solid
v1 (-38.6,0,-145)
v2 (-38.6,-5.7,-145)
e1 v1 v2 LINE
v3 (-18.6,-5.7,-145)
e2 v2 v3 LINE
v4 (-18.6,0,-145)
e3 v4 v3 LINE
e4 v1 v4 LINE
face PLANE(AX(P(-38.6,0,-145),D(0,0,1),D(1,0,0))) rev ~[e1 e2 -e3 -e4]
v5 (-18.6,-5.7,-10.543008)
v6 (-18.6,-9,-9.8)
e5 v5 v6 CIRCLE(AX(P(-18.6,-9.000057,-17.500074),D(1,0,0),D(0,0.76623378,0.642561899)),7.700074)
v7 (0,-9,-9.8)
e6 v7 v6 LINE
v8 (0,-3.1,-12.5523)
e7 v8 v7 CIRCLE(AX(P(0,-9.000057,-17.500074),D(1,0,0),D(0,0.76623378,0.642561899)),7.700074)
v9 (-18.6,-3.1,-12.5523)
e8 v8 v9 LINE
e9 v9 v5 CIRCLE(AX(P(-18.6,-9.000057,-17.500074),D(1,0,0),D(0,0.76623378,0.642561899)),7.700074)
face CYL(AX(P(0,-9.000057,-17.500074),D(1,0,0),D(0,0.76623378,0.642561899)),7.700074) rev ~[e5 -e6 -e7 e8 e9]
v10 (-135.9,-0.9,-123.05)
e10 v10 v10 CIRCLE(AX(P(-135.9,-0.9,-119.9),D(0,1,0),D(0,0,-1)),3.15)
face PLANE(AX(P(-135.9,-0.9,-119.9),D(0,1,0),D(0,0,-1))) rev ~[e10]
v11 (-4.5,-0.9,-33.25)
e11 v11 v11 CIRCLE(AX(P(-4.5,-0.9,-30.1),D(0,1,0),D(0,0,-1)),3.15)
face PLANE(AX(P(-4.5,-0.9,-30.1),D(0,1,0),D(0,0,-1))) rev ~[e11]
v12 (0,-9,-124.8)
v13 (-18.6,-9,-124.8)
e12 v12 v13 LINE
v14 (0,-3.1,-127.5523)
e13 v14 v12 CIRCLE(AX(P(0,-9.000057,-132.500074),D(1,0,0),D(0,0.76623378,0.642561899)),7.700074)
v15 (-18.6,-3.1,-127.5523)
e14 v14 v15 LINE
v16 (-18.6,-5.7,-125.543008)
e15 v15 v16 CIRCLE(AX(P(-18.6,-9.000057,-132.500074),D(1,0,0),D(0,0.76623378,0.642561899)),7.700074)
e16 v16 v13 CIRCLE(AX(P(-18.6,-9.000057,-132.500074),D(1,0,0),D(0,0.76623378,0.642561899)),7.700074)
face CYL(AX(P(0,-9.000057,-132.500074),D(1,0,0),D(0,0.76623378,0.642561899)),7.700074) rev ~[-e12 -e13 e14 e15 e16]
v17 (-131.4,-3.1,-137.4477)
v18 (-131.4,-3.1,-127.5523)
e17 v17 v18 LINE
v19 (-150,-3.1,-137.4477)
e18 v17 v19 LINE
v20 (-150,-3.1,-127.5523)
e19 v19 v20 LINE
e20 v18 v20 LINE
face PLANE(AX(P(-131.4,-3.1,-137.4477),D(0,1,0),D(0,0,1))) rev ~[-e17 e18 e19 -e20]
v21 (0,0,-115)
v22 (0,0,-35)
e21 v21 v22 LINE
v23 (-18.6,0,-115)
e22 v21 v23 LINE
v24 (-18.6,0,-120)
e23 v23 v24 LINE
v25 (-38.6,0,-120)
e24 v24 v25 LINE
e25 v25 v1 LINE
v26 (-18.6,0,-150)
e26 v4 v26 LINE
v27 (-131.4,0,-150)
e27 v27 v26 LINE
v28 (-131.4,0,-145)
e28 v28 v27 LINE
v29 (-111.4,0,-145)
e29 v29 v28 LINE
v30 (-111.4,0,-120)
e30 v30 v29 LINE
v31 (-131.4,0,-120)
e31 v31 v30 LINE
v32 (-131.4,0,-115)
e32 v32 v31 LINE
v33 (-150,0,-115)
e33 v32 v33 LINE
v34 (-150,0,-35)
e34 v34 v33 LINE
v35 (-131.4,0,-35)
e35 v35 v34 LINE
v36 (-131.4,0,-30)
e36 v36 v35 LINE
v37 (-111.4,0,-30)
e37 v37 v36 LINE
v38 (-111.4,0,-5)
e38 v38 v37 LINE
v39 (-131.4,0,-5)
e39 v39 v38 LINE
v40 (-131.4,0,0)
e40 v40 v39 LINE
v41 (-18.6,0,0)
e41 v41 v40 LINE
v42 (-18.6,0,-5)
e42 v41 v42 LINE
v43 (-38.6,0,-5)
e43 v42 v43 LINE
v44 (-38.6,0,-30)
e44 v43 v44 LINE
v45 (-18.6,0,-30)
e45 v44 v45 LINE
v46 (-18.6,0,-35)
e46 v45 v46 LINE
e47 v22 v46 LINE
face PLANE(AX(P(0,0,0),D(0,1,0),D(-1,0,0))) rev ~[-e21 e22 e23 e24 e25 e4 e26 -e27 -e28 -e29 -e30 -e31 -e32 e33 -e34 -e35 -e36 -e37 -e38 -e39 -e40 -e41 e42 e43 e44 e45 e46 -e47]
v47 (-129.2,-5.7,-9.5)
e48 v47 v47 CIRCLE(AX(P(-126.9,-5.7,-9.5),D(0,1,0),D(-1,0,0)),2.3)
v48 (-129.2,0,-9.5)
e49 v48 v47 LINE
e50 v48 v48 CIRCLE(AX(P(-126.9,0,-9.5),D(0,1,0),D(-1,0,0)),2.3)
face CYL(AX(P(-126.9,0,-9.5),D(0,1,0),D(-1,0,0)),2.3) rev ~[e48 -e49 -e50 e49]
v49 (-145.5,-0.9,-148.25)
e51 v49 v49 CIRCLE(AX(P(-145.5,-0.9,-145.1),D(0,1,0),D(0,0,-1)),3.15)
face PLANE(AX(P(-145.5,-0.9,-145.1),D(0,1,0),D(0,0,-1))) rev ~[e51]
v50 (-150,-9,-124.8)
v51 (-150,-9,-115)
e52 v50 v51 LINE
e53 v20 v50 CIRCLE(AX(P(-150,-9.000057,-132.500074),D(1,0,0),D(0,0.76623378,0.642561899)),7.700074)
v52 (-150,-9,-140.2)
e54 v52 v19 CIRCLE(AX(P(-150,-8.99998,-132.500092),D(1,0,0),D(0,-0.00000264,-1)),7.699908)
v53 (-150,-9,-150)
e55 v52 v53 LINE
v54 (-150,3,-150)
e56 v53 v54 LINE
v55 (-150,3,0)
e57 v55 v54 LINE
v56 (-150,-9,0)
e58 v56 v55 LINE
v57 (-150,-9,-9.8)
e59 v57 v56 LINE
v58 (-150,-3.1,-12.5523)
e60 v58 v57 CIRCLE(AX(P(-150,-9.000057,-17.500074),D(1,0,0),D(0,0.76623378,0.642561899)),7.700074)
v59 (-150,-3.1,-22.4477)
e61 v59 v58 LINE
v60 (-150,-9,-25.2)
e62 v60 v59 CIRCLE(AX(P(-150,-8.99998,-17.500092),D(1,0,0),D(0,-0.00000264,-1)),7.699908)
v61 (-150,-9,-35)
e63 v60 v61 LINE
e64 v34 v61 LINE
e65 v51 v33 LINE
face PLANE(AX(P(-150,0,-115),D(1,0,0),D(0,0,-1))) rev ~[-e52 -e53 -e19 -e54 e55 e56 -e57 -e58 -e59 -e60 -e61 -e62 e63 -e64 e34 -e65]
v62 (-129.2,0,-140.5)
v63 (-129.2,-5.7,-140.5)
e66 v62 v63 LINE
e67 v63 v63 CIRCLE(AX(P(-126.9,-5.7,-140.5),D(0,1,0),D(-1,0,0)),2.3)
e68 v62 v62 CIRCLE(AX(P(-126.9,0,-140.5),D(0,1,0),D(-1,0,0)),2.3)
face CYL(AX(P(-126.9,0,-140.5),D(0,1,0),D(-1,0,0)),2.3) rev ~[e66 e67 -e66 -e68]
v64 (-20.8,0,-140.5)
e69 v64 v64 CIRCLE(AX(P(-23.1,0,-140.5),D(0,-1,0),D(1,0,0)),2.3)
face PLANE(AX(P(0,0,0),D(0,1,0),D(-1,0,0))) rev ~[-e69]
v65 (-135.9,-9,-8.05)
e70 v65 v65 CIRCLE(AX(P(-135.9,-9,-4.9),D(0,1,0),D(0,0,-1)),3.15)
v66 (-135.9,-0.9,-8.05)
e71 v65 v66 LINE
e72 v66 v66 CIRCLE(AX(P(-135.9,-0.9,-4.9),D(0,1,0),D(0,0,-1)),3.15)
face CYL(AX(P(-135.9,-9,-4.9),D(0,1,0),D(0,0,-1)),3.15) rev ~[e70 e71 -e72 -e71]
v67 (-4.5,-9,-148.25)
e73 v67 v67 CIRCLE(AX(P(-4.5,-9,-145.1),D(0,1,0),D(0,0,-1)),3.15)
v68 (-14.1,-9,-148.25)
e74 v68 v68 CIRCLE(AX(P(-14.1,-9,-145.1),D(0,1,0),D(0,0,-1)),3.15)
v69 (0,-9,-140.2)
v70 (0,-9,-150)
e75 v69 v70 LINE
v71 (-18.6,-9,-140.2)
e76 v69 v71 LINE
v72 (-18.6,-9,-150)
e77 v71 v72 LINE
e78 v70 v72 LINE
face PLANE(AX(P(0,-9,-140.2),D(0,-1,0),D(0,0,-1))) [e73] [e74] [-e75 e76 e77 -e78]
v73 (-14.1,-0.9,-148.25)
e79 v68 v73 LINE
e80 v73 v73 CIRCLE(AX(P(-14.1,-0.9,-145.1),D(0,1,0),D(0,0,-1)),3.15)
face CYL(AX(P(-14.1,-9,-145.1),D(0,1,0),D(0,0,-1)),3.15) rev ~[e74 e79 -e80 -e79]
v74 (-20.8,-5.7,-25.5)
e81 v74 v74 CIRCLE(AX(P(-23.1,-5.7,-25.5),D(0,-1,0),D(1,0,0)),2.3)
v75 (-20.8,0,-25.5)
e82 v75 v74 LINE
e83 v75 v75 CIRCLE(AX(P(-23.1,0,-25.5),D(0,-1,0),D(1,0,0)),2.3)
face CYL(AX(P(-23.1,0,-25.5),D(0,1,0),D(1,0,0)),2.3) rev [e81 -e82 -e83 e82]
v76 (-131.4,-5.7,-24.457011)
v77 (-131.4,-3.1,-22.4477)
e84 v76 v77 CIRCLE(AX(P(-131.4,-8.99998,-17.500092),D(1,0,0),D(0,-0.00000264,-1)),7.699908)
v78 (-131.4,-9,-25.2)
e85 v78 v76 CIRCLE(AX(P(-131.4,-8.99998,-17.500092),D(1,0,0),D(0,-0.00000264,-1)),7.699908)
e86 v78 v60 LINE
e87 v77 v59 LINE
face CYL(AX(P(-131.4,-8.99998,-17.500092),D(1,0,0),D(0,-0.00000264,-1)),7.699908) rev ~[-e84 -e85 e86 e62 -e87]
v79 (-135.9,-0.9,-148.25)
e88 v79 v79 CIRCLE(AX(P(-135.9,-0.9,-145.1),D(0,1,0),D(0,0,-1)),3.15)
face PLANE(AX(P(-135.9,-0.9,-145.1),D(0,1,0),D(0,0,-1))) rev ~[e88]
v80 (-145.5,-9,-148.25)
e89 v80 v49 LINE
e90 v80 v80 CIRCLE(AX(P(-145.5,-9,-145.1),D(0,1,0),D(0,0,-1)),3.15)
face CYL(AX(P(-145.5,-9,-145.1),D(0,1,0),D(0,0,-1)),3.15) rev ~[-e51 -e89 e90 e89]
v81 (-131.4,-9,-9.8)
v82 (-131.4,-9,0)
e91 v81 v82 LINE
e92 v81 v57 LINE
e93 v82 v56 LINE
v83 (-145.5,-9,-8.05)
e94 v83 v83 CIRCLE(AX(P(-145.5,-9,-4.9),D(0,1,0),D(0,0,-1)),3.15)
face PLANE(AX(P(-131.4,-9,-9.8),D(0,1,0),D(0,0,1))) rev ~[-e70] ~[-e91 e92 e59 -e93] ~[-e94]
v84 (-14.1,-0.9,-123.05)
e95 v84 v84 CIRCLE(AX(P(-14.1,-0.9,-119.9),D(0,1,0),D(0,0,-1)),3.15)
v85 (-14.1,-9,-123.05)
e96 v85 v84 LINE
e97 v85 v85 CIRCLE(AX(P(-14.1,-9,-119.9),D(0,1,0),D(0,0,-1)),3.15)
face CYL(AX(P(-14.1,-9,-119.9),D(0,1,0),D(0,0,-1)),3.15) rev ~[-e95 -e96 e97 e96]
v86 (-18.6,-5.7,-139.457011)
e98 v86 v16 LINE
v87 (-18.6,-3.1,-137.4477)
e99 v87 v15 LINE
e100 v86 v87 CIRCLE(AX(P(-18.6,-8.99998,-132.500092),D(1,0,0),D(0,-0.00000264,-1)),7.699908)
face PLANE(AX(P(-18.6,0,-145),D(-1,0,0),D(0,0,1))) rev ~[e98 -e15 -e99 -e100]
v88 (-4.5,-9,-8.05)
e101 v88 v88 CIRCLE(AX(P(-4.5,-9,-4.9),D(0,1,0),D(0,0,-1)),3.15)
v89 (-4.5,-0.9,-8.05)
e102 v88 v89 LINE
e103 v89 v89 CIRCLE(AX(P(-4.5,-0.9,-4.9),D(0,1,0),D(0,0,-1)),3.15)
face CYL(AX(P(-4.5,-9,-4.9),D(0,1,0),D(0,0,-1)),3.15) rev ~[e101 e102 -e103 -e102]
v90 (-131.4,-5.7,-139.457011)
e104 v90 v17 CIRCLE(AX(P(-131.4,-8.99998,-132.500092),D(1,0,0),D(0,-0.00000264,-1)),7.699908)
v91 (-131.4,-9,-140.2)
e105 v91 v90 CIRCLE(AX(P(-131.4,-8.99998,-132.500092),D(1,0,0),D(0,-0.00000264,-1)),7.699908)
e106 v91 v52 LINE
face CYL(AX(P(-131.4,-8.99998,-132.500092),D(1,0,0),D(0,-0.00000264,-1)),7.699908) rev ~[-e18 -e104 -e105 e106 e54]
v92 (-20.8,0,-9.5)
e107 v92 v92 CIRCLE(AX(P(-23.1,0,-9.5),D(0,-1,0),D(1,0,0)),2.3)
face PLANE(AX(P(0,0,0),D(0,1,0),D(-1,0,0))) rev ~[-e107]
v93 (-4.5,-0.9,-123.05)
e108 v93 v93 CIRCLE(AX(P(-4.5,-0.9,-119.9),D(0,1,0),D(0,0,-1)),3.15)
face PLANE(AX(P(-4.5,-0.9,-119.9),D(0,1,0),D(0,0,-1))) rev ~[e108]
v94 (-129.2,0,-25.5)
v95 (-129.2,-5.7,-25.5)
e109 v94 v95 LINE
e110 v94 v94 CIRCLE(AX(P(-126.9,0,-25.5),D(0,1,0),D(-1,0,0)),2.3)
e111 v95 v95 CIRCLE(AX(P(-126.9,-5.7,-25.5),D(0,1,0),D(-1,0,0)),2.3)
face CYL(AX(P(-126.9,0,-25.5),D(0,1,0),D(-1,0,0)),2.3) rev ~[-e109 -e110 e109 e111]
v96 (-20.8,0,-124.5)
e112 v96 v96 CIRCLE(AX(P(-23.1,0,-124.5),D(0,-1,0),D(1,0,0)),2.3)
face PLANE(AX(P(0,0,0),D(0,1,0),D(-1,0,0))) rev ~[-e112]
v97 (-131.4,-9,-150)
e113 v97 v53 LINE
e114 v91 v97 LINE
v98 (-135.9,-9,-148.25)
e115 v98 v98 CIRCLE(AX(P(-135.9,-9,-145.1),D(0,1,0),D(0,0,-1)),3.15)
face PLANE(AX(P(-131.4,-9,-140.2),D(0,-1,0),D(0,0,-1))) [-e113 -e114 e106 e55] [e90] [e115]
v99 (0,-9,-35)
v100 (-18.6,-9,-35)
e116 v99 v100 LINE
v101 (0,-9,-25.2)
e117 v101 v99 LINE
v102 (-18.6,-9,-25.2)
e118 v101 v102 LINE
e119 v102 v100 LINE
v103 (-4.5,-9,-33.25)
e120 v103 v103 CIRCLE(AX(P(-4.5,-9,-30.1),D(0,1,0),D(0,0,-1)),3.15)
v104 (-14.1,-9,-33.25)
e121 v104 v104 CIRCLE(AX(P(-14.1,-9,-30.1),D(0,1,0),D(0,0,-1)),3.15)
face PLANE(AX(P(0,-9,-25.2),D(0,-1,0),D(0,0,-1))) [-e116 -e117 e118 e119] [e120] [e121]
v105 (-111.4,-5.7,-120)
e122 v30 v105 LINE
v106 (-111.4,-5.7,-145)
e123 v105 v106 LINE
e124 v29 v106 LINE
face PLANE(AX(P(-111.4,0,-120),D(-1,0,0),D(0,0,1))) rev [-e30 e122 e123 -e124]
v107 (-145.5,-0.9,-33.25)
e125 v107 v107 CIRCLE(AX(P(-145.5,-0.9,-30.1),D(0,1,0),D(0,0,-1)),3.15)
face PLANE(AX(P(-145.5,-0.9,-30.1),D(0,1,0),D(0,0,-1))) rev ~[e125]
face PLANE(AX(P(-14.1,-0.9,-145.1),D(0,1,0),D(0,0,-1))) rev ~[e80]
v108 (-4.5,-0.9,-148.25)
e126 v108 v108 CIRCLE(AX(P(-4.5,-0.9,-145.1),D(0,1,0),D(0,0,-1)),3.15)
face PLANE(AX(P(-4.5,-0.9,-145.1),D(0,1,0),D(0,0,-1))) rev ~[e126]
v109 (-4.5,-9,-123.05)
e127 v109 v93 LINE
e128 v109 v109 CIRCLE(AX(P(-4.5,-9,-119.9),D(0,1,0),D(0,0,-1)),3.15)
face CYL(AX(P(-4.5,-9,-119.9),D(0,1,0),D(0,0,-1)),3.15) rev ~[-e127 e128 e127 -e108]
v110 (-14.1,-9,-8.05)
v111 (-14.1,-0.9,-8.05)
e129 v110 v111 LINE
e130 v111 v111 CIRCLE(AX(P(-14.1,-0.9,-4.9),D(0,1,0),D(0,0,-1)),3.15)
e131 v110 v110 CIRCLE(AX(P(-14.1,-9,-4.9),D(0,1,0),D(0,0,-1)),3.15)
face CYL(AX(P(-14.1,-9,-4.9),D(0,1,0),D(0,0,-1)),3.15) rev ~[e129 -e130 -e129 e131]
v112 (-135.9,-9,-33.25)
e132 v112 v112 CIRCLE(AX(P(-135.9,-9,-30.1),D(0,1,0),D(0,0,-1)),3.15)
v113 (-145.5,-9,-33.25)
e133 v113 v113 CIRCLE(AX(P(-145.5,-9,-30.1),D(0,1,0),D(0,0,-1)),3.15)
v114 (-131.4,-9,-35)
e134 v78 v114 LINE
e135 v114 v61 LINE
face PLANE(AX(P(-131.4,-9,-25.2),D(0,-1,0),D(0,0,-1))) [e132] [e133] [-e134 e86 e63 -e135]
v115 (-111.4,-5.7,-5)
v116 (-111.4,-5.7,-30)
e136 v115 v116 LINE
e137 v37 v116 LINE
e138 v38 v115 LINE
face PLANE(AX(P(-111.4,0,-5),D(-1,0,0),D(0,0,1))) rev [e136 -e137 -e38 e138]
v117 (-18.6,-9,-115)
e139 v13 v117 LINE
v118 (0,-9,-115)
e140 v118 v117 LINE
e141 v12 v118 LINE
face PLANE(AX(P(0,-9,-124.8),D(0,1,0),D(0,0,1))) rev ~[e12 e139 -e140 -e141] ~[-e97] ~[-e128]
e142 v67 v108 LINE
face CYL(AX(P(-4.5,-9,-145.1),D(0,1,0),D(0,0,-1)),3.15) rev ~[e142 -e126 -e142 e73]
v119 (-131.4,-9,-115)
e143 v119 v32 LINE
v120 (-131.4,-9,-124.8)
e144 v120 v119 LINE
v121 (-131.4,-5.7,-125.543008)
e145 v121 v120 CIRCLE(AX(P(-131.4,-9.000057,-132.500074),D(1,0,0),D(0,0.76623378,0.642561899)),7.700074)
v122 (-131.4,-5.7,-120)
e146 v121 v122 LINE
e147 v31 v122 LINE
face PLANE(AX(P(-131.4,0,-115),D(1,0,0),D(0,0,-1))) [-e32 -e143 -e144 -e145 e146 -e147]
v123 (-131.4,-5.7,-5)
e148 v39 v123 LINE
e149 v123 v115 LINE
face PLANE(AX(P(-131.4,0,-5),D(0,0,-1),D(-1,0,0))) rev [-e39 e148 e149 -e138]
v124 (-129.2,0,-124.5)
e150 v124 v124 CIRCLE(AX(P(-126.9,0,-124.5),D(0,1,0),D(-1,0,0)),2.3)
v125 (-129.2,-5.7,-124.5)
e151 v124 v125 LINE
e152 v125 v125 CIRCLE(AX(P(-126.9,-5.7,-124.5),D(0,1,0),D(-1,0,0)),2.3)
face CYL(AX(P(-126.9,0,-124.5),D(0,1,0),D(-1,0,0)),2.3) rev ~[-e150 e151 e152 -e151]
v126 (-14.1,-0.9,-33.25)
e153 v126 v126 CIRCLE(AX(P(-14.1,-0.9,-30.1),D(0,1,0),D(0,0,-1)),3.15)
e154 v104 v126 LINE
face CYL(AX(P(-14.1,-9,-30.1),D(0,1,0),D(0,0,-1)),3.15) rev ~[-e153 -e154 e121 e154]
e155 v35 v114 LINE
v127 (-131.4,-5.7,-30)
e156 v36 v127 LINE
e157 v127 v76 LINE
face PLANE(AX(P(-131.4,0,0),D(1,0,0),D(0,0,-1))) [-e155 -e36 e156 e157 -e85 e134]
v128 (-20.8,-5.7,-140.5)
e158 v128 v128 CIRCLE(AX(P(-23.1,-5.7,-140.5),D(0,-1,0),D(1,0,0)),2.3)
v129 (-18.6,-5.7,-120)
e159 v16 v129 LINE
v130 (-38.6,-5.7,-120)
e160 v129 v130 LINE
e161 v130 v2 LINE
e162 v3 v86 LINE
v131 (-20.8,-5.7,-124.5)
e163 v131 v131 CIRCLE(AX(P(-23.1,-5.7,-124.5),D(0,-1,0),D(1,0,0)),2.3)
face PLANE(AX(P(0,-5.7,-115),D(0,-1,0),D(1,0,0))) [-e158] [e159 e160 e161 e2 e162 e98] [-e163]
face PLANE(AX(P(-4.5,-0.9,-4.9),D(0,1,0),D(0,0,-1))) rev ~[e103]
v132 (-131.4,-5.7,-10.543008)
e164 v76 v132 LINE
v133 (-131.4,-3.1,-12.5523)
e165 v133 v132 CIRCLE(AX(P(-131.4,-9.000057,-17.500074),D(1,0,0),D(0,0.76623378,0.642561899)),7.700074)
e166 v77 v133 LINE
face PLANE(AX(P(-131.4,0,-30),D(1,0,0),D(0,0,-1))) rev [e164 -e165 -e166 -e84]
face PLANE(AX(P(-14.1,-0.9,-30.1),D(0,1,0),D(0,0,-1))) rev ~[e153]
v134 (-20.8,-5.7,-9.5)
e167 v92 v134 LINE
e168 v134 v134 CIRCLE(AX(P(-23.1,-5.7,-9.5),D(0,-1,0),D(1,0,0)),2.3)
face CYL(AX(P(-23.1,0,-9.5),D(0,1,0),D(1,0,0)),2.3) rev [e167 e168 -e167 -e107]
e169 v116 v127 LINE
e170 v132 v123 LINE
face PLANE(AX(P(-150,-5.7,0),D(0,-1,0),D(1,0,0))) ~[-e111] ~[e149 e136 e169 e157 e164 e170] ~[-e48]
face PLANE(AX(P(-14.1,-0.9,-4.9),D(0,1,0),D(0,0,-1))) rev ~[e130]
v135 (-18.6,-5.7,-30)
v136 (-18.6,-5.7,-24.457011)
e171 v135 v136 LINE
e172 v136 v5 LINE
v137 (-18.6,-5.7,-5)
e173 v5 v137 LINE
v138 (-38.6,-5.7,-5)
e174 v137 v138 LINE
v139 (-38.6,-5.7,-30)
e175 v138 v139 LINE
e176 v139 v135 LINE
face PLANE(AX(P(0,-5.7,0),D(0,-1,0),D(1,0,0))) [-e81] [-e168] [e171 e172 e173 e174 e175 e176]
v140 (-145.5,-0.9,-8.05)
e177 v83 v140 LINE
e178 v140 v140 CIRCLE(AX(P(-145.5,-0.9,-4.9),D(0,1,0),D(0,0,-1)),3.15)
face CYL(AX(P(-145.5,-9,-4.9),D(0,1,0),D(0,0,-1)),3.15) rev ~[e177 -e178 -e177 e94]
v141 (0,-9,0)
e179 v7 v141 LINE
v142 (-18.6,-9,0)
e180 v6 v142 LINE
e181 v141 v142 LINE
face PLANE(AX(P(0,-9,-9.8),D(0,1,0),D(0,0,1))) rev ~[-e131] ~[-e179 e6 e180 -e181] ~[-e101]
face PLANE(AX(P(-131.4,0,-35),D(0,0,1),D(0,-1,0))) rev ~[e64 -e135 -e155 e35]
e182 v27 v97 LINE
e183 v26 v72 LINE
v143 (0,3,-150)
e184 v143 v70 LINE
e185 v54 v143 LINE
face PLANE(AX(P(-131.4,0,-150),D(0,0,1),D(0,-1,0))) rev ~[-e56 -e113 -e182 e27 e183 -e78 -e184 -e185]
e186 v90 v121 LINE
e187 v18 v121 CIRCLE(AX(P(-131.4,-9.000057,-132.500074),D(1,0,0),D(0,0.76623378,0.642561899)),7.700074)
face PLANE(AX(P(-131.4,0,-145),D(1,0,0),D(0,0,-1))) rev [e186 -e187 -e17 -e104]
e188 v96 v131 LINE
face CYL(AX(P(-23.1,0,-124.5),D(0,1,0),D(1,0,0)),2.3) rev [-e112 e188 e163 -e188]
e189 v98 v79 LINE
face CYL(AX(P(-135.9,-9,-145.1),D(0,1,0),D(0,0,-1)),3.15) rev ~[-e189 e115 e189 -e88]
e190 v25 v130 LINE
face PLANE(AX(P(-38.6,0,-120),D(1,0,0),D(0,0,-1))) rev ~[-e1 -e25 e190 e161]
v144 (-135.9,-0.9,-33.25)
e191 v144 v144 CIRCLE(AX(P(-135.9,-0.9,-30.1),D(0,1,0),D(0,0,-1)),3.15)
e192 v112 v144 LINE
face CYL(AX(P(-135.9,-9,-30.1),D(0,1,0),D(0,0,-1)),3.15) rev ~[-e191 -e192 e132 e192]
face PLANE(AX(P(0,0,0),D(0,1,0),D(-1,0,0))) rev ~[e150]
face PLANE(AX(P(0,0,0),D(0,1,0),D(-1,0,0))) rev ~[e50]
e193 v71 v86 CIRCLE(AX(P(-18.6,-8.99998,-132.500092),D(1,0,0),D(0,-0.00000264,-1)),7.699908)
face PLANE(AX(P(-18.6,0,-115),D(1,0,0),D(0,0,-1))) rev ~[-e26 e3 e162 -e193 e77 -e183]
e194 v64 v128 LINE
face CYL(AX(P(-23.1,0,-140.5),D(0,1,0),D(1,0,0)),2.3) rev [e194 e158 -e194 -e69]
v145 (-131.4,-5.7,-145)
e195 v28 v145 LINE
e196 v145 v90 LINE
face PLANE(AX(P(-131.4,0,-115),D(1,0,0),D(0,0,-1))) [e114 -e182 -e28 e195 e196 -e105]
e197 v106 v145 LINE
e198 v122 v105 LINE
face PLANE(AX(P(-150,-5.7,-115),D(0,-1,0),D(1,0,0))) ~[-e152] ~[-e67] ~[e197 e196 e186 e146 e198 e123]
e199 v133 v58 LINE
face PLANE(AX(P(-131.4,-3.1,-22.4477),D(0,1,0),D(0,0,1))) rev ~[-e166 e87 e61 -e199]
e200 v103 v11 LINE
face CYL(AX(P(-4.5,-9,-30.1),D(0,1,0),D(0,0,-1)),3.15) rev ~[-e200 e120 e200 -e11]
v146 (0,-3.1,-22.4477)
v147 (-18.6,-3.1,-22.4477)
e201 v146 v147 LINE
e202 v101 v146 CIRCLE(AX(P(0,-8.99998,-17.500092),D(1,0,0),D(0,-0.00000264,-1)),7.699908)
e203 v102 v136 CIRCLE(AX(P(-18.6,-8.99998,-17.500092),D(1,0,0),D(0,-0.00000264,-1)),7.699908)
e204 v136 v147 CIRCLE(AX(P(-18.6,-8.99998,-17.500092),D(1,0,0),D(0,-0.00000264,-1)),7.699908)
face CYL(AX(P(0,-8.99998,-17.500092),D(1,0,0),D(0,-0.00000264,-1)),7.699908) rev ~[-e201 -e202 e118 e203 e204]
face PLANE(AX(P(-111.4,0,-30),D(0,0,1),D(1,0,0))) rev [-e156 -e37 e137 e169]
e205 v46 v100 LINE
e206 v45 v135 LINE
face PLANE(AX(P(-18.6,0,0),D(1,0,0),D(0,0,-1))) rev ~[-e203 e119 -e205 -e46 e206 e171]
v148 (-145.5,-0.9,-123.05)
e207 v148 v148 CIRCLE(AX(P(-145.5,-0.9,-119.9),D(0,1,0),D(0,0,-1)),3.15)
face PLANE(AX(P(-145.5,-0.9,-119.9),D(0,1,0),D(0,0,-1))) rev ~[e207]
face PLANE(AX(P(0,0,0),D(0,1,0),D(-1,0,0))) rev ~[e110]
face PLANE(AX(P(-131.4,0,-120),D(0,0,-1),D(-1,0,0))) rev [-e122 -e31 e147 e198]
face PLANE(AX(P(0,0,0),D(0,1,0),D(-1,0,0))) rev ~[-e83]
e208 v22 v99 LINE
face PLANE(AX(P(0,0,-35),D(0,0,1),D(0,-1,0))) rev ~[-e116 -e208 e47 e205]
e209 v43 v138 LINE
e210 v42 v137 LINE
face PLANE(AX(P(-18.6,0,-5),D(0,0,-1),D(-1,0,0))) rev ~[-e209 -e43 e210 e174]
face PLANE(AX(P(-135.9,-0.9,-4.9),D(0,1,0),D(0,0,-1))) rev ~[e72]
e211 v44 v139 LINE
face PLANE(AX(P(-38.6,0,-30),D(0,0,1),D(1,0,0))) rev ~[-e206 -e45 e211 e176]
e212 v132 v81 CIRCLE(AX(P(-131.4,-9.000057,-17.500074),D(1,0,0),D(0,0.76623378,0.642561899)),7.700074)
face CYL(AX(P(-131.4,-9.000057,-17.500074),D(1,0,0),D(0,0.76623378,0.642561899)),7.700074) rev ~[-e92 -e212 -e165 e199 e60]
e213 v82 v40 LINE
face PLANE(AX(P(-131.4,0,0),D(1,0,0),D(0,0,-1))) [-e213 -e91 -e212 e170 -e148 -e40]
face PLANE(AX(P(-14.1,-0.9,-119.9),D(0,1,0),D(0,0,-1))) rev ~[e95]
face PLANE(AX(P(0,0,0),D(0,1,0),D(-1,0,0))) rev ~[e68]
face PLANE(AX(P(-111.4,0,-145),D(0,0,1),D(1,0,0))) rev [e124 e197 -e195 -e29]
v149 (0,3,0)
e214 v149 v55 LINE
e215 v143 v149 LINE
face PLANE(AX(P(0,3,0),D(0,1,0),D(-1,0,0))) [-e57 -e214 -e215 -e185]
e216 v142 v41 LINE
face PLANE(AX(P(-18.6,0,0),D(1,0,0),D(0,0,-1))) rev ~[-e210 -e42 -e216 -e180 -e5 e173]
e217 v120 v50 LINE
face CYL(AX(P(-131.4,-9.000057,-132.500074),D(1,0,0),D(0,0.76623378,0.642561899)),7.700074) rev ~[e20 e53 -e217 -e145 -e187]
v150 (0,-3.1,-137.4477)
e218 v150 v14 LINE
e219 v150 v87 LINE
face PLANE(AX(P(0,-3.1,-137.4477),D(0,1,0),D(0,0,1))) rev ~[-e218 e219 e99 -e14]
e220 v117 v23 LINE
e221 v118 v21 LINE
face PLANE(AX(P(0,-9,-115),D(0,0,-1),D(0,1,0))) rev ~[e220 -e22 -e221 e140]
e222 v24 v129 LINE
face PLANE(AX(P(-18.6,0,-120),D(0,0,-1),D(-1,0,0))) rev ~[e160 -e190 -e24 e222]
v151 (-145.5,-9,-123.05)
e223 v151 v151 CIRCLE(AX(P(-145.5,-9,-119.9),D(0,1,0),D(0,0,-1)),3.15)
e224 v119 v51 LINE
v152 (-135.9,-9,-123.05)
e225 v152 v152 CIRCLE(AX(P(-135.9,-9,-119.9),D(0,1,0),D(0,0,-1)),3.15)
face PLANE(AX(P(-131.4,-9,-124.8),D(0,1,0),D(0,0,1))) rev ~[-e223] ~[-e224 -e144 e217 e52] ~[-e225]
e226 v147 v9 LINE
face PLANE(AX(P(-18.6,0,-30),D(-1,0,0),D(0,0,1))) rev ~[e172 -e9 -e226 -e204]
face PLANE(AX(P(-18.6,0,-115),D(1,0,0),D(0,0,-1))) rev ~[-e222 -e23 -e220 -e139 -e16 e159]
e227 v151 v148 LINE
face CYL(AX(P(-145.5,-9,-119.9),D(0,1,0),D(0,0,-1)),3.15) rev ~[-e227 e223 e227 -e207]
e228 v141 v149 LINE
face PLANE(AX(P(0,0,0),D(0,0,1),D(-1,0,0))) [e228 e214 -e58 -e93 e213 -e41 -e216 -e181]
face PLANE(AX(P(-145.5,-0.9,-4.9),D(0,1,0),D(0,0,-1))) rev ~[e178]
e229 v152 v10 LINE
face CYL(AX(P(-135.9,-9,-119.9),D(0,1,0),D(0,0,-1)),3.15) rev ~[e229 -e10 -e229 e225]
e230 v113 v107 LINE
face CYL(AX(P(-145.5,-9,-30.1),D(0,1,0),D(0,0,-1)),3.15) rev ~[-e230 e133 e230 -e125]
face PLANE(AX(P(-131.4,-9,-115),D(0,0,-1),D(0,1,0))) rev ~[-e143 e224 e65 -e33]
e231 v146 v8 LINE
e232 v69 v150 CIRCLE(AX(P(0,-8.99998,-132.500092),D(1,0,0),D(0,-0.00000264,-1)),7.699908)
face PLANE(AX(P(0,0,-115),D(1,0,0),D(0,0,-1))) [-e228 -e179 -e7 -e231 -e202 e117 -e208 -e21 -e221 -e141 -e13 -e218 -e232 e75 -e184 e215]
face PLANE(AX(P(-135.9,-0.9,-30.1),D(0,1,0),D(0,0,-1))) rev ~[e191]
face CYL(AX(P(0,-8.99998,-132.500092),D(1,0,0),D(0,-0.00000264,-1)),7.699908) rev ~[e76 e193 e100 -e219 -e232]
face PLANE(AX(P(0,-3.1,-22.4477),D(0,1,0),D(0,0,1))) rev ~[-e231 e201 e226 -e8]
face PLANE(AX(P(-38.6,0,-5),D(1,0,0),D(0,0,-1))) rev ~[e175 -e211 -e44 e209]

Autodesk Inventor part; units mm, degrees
ref_plane "YZ Plane" through (0, 0, 0) normal (1, 0, 0) x (0, 1, 0)
ref_plane "XZ Plane" through (0, 0, 0) normal (0, 1, 0) x (-1, 0, 0)
ref_plane "XY Plane" through (0, 0, 0) normal (0, 0, 1) x (1, 0, 0)
sketch "Esquisse1" plane through (0, 0, 0) normal (0, 1, 0) x (-1, 0, 0)
  line L0 (0, 0) -> (150, 0)
  line L1 (150, 0) -> (150, -150)
  line L2 (150, -150) -> (0, -150)
  line L3 (0, -150) -> (0, 0)
  dimension "d0" = 150
  dimension "d1" = 150
extrude "Extrusion1" add sketch "Esquisse1" along normal blind 3
sketch "Esquisse2" plane through (0, 0, 0) normal (1, 0, 0) x (0, 0, -1)
  line L0 (0, 0) -> (35, 0)
  line L1 (35, 0) -> (35, -9)
  line L2 (0, -9) -> (0, 0)
  line L3 (22.4477, -3.1) -> (12.5523, -3.1)
  arc A0 (25.2, -9) -> (22.4477, -3.1) centre (17.5, -9) ccw
  arc A1 (12.5523, -3.1) -> (9.8, -9) centre (17.5, -9) ccw
  line L4 (25.2, -9) -> (35, -9)
  line L5 (9.8, -9) -> (0, -9)
  point P0 (17.4477, 0)
  point P1 (7.5523, 0)
  point P2 (5.9342, -9)
  point P3 (22.4477, 0)
  point P4 (12.5523, 0)
  dimension "d4" = 35
  dimension "d5" = 9
extrude "Extrusion2" add sketch "Esquisse2" against normal blind 18.6
ref_plane "Plan de construction1" through (-150, 3, -4.9) normal (0, 0, 1) x (1, 0, 0)
ref_plane "Plan de construction2" through (0, -9, -30.1) normal (0, 0, -1) x (-1, 0, 0)
ref_plane "Plan de construction3" through (-4.5, 3, 0) normal (1, 0, 0) x (0, 0, -1)
ref_plane "Plan de construction4" through (-14.1, 3, 0) normal (1, 0, 0) x (0, 0, -1)
hole "Perçage1" at (-14.1, -9, -30.1) direction (0, 1, 0) diameter 6.3 depth 8.1
hole "Perçage2" at (-4.5, -9, -30.1) direction (0, 1, 0) diameter 6.3 depth 8.1
hole "Perçage3" at (-4.5, -9, -4.9) direction (0, 1, 0) diameter 6.3 depth 8.1
hole "Perçage4" at (-14.1, -9, -4.9) direction (0, 1, 0) diameter 6.3 depth 8.1
pattern_linear "Réseau rectangulaire1" count 2 spacing 115 along (0, 0, -1) count 2 spacing 131.4 along (-1, 0, 0) of "Extrusion2", "Perçage2", "Perçage1", "Perçage3", "Perçage4"
sketch "Esquisse5" plane through (0, 0, 0) normal (0, -1, 0) x (1, 0, 0)
  line L0 (-18.6, -5) -> (-38.6, -5)
  line L1 (-38.6, -5) -> (-38.6, -30)
  line L2 (-38.6, -30) -> (-18.6, -30)
  line L3 (-18.6, -30) -> (-18.6, -5)
  circle A0 centre (-23.1, -9.5) radius 2.3
  circle A1 centre (-23.1, -25.5) radius 2.3
  point P0 (0, 0)
  dimension "d61" = 20
  dimension "d62" = 25
  dimension "d63" = 4.6
  dimension "d64" = 4.6
extrude "Extrusion4" add sketch "Esquisse5" along normal blind 5.7
pattern_linear "Réseau rectangulaire2" count 2 spacing 115 along (0, 0, -1) of "Extrusion4"
ref_plane "Plan de construction5" through (-75, 3, 0) normal (1, 0, 0) x (0, 0, -1)
mirror "Mise en miroir1" about plane through (-75, 3, 0) normal (1, 0, 0) of "Extrusion4", "Réseau rectangulaire2"
ref_plane "Plan de construction6" through (-131.4, 0, -9.5) normal (0, 0, 1) x (1, 0, 0)
properties part number "plateauV2102"
